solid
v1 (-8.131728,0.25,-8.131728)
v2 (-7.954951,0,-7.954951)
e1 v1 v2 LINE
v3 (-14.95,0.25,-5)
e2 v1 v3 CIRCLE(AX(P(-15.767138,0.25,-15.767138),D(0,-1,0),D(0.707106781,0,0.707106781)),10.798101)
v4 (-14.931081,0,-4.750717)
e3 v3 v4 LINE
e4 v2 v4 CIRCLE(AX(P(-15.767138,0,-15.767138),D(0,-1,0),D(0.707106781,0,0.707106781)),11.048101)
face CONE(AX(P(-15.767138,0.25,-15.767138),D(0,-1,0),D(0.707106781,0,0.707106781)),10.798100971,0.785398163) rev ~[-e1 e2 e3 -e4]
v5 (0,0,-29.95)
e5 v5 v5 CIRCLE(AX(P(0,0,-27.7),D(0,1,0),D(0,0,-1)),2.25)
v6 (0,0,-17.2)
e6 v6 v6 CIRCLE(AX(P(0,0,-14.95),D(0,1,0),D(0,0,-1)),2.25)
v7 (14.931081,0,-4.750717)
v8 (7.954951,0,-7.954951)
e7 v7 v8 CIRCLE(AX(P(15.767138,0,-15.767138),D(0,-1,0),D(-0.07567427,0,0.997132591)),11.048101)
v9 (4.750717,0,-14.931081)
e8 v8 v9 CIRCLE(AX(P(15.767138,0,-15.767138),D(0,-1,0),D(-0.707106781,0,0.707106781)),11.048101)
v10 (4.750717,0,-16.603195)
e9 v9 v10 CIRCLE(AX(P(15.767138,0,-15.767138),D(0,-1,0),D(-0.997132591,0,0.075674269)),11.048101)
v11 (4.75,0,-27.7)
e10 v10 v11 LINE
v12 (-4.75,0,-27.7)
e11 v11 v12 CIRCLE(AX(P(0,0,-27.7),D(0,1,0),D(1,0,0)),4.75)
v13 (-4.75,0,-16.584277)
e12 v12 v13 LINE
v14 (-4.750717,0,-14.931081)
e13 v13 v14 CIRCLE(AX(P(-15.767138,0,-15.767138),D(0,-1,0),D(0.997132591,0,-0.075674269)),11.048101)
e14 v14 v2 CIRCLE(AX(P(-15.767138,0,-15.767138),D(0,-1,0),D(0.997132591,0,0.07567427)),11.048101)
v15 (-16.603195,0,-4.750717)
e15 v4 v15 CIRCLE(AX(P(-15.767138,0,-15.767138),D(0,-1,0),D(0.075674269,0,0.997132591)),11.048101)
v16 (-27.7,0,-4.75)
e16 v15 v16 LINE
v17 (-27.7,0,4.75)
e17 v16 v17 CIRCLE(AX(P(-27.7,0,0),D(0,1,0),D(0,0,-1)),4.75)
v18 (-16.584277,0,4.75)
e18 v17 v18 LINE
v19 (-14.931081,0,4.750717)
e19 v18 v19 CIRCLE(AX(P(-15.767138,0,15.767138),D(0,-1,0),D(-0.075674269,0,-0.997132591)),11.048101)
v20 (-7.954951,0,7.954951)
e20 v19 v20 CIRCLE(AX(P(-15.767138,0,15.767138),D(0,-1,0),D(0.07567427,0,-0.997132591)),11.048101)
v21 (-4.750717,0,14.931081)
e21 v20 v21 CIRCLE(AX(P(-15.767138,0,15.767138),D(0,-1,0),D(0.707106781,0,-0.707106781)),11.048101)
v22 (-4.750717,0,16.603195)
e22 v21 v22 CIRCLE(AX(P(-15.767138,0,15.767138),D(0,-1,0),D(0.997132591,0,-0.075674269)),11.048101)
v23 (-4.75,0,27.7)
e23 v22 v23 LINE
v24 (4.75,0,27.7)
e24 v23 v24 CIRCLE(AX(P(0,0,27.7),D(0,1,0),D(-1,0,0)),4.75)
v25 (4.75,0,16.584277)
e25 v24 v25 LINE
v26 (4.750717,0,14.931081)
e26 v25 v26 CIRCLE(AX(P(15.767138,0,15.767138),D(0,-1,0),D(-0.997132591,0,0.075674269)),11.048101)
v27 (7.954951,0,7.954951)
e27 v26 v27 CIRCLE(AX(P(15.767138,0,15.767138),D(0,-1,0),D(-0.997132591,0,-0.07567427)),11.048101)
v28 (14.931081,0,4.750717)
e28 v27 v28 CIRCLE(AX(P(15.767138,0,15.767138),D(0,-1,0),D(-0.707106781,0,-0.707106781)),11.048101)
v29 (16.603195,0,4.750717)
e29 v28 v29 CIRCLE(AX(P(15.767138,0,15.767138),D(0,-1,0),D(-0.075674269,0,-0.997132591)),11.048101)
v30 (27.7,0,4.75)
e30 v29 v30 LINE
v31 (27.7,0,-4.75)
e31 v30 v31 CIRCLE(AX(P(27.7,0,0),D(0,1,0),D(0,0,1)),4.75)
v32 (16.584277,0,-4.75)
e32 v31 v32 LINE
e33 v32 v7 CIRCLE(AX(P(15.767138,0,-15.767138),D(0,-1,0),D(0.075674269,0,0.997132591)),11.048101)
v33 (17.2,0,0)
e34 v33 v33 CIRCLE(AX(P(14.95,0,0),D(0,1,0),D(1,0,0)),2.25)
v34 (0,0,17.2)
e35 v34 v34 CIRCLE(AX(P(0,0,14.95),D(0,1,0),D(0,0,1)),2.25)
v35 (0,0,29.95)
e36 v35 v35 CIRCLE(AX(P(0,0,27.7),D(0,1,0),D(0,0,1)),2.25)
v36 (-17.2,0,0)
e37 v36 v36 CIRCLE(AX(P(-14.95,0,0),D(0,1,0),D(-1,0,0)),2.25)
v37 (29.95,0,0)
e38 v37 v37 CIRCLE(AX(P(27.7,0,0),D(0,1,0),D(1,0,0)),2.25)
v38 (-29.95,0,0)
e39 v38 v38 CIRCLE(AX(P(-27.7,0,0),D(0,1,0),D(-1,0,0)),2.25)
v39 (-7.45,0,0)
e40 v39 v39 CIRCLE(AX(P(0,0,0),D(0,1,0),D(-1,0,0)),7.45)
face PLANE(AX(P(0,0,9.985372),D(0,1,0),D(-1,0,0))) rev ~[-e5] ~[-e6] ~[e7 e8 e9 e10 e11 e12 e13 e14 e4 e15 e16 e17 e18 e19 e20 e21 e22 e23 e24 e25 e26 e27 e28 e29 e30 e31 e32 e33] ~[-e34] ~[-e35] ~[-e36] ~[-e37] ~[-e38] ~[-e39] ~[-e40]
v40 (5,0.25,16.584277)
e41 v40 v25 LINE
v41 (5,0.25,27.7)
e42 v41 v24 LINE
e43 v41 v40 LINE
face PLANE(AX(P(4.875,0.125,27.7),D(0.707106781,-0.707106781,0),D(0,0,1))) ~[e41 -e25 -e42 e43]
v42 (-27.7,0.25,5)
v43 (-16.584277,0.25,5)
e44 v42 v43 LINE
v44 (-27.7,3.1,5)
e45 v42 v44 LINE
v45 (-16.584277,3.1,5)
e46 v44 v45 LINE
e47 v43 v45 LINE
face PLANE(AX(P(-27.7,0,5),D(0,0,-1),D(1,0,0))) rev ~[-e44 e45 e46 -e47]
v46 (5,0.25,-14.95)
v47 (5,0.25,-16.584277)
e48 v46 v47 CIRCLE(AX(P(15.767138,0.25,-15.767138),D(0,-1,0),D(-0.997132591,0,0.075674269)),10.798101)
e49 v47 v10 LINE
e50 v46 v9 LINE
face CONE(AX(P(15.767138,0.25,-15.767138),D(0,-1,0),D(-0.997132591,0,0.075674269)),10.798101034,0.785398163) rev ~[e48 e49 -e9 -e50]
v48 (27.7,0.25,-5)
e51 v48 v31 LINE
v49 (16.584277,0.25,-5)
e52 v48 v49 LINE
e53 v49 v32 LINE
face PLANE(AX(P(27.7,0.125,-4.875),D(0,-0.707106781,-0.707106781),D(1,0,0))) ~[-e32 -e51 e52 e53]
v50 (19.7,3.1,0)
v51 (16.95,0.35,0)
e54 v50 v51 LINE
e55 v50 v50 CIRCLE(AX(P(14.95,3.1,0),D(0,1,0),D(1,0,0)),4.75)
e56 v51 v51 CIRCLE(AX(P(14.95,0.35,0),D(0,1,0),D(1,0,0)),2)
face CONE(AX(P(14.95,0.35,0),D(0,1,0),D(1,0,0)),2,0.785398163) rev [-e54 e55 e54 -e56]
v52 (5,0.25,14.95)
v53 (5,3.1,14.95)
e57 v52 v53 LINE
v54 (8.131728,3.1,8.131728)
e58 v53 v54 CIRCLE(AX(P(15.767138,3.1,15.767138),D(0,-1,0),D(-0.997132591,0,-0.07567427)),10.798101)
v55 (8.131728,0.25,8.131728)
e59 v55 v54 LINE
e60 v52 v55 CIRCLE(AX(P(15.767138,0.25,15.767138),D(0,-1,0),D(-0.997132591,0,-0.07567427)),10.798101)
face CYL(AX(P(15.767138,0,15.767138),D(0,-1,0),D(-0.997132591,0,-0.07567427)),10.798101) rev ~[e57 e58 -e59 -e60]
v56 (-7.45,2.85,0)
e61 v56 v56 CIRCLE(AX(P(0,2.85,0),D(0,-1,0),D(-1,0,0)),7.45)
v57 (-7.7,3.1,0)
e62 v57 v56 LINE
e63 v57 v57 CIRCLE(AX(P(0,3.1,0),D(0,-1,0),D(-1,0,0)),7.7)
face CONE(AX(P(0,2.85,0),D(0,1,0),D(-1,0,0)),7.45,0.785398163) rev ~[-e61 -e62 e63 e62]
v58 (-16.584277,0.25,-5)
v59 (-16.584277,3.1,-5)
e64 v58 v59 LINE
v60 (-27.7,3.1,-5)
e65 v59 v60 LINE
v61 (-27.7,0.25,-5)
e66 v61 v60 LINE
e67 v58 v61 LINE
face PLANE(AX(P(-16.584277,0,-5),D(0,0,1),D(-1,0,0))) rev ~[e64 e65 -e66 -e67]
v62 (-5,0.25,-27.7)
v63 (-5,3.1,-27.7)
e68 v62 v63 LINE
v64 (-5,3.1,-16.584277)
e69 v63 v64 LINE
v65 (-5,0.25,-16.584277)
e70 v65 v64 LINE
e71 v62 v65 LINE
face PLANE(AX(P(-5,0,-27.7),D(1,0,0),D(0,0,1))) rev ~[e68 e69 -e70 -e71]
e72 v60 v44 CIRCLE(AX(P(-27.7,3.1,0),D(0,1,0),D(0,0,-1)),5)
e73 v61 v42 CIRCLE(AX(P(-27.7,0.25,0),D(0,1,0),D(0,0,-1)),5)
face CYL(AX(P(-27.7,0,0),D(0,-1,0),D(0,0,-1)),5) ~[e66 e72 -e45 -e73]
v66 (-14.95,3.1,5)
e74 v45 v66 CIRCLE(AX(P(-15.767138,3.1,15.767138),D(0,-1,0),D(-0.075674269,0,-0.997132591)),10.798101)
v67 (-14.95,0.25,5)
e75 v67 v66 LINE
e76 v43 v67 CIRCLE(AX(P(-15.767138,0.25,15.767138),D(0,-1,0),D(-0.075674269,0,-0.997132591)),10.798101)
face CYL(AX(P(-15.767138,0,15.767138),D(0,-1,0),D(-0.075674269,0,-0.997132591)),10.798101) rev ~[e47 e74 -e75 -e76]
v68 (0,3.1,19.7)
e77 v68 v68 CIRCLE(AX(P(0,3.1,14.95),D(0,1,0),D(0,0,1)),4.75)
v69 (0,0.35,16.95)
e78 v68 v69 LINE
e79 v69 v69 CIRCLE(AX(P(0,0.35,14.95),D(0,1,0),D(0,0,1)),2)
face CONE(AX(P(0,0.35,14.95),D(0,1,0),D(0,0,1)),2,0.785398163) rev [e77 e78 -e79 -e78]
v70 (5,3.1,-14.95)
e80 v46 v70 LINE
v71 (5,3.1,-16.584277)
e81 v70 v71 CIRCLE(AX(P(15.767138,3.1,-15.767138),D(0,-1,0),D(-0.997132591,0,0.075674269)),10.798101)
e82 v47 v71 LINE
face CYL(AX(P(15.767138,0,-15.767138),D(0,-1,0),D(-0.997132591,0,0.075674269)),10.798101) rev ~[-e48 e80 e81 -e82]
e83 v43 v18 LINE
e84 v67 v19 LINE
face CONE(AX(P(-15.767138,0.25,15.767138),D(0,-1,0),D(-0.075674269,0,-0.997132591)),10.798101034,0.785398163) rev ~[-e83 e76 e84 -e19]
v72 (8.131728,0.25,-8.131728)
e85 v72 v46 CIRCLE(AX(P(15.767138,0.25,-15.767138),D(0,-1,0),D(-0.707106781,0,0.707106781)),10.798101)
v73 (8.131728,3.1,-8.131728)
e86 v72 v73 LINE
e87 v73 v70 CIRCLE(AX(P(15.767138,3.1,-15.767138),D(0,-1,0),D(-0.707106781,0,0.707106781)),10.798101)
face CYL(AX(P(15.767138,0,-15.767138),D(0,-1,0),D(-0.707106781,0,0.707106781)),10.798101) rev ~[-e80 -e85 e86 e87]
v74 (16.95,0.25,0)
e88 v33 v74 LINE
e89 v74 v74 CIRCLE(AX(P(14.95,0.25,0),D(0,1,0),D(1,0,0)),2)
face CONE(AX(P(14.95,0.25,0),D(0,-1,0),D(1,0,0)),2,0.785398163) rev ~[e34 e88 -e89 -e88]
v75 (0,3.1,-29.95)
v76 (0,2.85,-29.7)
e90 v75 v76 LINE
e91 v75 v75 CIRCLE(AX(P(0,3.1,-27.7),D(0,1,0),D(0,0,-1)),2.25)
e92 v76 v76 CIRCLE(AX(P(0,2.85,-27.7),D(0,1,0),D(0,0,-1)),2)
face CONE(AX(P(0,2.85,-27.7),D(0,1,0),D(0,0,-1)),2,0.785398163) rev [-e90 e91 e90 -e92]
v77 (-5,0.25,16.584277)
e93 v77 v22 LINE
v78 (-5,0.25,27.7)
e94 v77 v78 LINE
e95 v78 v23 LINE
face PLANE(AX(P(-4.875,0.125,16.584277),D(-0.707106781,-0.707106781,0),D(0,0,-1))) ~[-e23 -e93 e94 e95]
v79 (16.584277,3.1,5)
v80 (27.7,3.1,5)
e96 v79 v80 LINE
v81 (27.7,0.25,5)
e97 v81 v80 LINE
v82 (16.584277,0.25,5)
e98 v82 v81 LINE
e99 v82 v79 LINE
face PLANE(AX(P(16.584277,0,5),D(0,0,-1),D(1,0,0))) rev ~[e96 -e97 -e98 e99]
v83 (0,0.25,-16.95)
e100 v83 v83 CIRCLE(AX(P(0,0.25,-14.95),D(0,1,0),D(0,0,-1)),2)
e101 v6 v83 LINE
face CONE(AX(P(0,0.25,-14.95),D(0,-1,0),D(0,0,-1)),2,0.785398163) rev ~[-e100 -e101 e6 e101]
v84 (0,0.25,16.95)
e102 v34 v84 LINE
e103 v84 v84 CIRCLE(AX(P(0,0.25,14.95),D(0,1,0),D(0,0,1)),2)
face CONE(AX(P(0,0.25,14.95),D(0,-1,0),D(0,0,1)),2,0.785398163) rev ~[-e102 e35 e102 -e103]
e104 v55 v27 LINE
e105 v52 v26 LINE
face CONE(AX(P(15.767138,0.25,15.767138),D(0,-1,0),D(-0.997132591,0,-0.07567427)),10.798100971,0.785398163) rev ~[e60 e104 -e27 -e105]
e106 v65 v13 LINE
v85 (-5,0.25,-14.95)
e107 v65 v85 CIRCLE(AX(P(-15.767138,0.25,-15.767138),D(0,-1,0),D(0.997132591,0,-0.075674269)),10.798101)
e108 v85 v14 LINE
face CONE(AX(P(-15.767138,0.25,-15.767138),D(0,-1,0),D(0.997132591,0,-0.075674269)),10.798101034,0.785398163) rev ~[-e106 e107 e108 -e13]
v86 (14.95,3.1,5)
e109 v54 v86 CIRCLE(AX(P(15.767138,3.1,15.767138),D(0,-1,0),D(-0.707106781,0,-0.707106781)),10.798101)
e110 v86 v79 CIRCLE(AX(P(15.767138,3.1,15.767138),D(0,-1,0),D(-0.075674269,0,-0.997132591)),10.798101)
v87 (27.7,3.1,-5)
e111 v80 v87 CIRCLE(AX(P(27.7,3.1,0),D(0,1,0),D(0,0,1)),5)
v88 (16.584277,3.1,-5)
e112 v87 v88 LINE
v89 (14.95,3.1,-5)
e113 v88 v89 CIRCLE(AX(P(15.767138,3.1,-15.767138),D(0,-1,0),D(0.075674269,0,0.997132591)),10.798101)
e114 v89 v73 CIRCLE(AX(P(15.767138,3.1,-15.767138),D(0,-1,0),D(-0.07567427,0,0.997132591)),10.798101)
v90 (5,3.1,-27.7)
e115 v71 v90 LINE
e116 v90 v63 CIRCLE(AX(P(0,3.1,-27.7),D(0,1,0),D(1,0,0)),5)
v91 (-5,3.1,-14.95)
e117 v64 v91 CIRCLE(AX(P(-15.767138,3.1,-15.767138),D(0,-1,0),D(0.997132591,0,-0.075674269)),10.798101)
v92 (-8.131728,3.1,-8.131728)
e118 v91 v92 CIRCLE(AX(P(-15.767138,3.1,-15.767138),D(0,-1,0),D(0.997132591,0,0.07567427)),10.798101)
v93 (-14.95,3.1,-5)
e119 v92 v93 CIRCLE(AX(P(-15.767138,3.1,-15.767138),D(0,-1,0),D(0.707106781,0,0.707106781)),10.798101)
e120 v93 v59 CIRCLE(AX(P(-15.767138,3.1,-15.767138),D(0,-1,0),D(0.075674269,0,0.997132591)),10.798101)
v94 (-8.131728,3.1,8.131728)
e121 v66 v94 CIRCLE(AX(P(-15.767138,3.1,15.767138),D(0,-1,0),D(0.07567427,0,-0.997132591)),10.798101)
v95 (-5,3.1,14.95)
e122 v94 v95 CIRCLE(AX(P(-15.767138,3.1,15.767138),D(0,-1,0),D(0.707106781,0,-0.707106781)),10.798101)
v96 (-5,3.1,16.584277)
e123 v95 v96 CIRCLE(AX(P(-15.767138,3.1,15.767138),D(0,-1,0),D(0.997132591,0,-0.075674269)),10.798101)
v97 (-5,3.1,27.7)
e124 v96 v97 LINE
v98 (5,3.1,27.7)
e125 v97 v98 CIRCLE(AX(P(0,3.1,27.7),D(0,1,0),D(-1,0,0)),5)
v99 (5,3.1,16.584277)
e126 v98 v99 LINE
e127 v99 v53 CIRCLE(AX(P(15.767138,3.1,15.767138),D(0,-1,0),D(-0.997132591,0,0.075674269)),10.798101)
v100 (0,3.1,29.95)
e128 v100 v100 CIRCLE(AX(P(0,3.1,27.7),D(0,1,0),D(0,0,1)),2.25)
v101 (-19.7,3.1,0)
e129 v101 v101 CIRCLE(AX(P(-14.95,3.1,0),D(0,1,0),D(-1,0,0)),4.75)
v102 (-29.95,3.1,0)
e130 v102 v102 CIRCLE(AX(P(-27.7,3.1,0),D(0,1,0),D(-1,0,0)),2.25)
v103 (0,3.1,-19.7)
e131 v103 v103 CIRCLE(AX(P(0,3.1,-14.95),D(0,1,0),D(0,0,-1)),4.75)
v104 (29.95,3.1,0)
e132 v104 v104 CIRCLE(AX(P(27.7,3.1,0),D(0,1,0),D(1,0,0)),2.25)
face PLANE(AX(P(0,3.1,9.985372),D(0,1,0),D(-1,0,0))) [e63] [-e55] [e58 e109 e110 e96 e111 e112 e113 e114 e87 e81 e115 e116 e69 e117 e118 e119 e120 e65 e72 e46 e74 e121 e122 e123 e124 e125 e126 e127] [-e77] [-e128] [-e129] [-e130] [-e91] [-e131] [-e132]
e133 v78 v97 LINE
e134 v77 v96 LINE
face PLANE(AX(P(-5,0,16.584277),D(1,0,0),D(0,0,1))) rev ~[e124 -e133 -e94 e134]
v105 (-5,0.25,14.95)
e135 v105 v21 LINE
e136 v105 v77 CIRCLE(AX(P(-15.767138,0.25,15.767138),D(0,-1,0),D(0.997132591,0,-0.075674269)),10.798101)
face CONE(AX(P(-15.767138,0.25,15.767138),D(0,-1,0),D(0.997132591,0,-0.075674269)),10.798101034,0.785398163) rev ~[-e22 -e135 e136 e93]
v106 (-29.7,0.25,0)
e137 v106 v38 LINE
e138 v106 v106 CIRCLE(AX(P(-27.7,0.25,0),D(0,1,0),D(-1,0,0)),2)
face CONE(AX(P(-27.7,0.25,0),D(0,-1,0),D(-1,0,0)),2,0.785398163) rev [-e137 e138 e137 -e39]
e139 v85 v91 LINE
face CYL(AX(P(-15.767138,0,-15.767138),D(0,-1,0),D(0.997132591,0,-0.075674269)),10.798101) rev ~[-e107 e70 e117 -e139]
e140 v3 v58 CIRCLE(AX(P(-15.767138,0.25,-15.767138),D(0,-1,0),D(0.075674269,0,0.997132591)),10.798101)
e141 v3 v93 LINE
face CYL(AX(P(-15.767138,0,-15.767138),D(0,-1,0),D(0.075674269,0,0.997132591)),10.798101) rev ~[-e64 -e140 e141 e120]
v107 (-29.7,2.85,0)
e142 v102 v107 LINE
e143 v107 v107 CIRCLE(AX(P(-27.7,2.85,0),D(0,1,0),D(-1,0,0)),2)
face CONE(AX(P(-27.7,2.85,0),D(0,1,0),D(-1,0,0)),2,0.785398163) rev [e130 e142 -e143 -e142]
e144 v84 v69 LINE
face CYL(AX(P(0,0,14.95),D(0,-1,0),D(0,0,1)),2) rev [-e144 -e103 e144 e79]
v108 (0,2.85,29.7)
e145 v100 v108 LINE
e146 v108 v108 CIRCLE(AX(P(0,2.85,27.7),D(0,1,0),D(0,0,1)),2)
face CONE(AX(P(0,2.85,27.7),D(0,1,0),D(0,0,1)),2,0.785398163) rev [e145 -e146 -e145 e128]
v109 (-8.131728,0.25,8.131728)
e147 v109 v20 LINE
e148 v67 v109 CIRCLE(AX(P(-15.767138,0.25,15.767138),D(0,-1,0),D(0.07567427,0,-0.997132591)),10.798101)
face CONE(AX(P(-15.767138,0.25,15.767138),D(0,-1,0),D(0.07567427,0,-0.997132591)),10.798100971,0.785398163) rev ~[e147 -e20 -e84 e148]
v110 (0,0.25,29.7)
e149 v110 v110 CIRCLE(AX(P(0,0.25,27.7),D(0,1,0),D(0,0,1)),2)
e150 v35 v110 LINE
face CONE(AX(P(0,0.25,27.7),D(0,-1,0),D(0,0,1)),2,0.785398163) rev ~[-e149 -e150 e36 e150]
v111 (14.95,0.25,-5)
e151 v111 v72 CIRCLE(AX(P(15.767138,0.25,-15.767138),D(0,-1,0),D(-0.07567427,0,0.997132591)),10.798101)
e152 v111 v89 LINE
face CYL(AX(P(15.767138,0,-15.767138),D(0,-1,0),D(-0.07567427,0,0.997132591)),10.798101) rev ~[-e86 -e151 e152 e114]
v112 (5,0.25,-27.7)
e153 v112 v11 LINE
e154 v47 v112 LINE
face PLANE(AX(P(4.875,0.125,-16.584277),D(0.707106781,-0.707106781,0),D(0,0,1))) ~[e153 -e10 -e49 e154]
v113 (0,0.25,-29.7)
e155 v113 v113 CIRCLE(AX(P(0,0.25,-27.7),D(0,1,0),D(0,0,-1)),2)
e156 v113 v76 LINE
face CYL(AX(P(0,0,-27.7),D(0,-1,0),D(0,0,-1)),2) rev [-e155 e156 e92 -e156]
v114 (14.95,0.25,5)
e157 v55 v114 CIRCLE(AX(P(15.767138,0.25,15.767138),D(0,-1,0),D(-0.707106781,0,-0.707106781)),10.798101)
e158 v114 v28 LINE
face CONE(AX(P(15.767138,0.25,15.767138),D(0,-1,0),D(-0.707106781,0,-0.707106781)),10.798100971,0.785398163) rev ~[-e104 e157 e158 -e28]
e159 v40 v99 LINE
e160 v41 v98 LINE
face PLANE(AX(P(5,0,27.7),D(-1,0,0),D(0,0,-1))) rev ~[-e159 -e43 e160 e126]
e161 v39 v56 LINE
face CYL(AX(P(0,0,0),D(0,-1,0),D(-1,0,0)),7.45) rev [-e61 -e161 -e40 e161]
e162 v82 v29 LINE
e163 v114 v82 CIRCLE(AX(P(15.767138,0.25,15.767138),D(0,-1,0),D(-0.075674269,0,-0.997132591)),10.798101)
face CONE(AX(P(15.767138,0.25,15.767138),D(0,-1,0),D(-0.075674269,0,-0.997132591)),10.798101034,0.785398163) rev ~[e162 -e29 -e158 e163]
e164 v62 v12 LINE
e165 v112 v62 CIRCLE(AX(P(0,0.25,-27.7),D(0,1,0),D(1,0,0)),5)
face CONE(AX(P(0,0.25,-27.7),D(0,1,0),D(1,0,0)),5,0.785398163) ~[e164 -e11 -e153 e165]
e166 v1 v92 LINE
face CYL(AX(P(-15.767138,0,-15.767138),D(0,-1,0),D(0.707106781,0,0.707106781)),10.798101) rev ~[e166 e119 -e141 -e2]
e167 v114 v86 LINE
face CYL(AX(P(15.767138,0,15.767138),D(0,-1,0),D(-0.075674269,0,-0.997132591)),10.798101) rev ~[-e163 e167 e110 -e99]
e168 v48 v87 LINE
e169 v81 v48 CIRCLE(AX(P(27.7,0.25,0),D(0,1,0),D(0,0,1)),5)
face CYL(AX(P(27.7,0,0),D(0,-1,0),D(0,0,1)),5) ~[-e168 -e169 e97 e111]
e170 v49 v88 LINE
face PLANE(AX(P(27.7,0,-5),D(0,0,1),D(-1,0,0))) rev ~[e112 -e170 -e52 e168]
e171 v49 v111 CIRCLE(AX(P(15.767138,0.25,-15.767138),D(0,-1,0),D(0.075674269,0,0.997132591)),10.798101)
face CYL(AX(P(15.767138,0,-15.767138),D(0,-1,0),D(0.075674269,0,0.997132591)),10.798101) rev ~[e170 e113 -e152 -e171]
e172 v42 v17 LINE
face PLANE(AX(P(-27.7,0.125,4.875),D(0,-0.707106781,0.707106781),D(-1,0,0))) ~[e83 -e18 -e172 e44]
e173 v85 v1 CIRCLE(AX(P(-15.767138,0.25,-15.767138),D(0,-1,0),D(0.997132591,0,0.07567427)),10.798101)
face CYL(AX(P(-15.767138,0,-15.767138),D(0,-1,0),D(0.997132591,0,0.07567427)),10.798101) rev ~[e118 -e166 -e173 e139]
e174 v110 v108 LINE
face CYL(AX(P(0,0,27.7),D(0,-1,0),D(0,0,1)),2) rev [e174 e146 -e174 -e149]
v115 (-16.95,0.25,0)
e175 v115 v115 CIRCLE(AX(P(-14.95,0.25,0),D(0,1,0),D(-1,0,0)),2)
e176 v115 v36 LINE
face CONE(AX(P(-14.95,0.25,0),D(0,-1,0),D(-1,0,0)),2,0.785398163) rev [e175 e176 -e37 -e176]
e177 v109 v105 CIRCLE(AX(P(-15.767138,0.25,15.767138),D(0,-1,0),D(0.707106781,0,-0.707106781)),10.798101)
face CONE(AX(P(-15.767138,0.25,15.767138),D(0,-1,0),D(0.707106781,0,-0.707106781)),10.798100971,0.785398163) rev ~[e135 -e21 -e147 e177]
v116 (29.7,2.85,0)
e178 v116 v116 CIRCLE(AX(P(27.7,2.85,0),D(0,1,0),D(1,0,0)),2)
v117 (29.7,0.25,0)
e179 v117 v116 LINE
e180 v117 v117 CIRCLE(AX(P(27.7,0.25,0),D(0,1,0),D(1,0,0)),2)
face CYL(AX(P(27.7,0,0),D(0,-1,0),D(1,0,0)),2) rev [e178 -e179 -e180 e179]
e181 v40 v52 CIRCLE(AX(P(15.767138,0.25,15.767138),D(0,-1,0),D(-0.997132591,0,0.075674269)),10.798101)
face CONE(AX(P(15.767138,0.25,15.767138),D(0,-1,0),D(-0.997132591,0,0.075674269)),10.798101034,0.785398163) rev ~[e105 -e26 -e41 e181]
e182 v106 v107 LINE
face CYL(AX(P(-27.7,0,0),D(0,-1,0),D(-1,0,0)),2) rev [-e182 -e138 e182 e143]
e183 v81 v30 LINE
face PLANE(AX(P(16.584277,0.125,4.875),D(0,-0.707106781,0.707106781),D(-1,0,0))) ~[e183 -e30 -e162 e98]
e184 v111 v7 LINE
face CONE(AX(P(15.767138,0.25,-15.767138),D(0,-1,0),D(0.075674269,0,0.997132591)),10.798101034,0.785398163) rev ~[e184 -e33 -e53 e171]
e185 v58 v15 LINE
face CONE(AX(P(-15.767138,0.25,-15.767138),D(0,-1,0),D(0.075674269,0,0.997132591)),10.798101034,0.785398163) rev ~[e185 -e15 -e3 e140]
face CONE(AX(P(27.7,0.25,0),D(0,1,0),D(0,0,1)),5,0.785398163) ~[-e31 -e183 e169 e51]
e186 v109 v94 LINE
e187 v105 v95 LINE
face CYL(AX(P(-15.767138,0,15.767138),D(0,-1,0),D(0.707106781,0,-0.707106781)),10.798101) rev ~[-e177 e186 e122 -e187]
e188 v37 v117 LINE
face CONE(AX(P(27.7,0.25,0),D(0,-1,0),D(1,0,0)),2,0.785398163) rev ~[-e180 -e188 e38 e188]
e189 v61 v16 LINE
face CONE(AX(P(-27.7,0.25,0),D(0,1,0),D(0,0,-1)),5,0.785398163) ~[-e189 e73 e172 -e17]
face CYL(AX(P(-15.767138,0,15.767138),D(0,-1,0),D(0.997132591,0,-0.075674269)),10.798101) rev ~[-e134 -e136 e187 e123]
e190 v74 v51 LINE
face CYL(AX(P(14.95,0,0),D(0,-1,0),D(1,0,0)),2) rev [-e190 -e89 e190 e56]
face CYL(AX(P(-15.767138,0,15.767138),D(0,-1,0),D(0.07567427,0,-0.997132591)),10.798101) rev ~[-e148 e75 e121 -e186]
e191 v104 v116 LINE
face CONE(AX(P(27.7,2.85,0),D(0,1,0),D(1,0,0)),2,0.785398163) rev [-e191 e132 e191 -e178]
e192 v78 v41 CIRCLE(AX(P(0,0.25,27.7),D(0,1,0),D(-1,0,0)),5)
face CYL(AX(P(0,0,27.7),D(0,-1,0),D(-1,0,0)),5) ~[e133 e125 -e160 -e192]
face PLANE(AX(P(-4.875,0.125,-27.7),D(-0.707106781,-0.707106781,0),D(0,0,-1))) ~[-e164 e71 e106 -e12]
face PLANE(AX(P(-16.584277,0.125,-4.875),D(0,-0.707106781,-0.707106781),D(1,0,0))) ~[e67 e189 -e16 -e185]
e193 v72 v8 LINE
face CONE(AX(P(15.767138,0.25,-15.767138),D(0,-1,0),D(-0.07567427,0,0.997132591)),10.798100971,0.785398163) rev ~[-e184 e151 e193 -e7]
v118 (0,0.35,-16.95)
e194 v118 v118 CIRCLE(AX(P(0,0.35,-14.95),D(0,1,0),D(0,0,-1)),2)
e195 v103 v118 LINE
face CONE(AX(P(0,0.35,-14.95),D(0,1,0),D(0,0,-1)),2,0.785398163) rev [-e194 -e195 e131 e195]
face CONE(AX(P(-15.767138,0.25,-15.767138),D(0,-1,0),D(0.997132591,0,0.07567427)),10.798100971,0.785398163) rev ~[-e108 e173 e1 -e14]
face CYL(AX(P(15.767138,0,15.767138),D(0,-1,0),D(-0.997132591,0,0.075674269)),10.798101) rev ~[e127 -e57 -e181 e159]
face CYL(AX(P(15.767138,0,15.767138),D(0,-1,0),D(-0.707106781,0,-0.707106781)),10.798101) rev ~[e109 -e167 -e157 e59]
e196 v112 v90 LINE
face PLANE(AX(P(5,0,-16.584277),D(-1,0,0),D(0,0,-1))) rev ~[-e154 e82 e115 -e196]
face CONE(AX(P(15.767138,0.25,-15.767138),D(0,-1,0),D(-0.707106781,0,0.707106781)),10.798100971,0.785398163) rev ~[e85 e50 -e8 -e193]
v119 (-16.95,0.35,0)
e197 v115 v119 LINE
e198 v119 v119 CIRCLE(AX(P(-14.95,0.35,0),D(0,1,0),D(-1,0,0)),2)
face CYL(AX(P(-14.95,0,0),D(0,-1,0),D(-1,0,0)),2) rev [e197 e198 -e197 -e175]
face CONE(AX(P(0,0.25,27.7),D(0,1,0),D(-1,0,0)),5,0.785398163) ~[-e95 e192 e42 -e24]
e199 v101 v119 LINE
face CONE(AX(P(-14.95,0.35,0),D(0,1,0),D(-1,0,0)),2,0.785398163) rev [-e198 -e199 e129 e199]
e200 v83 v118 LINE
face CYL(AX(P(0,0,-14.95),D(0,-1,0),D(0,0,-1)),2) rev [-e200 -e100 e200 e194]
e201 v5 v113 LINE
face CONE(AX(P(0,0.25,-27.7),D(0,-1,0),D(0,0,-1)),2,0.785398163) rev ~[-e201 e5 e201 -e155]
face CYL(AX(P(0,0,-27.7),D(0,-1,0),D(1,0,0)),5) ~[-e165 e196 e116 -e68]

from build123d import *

# Parameters (mm, degrees)
SKETCH1_R           = 7.45
SKETCH1_R_2         = 2
BOSS_EXTRUDE1_DEPTH = 3.1
CIRPATTERN1_COUNT   = 4
CHAMFER3_SIZE       = 0.25
CHAMFER4_SIZE       = 2.75
CHAMFER5_SIZE       = 0.25


with BuildPart() as part:
    # Sketch1 → Boss-Extrude1 (new body)
    with BuildSketch(Plane(origin=(0, 0, 0), x_dir=(1, 0, 0), z_dir=(0, 1, 0))):
        with BuildLine():
            Line((5, 16.58427681), (5, 27.7))
            ThreePointArc((5, 27.7), (0, 32.7), (-5, 27.7))
            Line((-5, 27.7), (-5, 16.58427681))
            ThreePointArc((-5, 16.58427681), (-4.969037433, 15.767138405), (-5, 14.95))
            ThreePointArc((-5, 14.95), (-5.95461278, 11.260107735), (-8.131727984, 8.131727984))
            ThreePointArc((-8.131727984, 8.131727984), (0, -11.5), (8.131727984, 8.131727984))
            ThreePointArc((8.131727984, 8.131727984), (5.95461278, 11.260107735), (5, 14.95))
            ThreePointArc((5, 14.95), (4.969037433, 15.767138405), (5, 16.58427681))
        make_face()
        with Locations(Location((0, 0, 0), (0, 0, 90))):
            Circle(SKETCH1_R, mode=Mode.SUBTRACT)
        with Locations(Location((0, 14.95, 0), (0, 0, 90))):
            Circle(SKETCH1_R_2, mode=Mode.SUBTRACT)
        with Locations(Location((0, 27.7, 0), (0, 0, 90))):
            Circle(SKETCH1_R_2, mode=Mode.SUBTRACT)
    extrude(amount=BOSS_EXTRUDE1_DEPTH)


with BuildPart() as cirpattern1_1:
    # CirPattern1: pattern copy
    add(part.part.rotate(Axis((0, 0, 0), (0, 1, 0)), 1 * 360 / CIRPATTERN1_COUNT))


with BuildPart() as cirpattern1_2:
    # CirPattern1: pattern copy
    add(part.part.rotate(Axis((0, 0, 0), (0, 1, 0)), 2 * 360 / CIRPATTERN1_COUNT))


with BuildPart() as cirpattern1_3:
    # CirPattern1: pattern copy
    add(part.part.rotate(Axis((0, 0, 0), (0, 1, 0)), 3 * 360 / CIRPATTERN1_COUNT))


with BuildPart() as cirpattern1_1_1:
    add(cirpattern1_1.part)

    # Combine1: union part, CirPattern1_3, CirPattern1_2
    add(part.part)
    add(cirpattern1_3.part)
    add(cirpattern1_2.part)

    # Chamfer3
    chamfer3_edges = [cirpattern1_1_1.edges().sort_by_distance(p)[0] for p in [
        (-25.7, 3.1, 0),
        (0, 3.1, -25.7),
        (25.7, 3.1, 0),
        (0, 3.1, 25.7),
        (7.45, 3.1, 0),
    ]]
    chamfer(chamfer3_edges, length=CHAMFER3_SIZE)

    # Chamfer4
    chamfer4_edges = [cirpattern1_1_1.edges().sort_by_distance(p)[0] for p in [
        (-12.95, 3.1, 0),
        (0, 3.1, -12.95),
        (12.95, 3.1, 0),
        (0, 3.1, 12.95),
    ]]
    chamfer(chamfer4_edges, length=CHAMFER4_SIZE)

    # Chamfer5
    chamfer5_edges = [cirpattern1_1_1.edges().sort_by_distance(p)[0] for p in [
        (-32.7, 0, 0),
        (-22.142138405, 0, -5),
        (-8.131727984, 0, -8.131727984),
        (-8.131727984, 0, 8.131727984),
        (-22.142138405, 0, 5),
        (-25.7, 0, 0),
        (-12.95, 0, 0),
        (0, 0, -25.7),
        (0, 0, -12.95),
        (8.131727984, 0, -8.131727984),
        (5, 0, -22.142138405),
        (25.7, 0, 0),
        (12.95, 0, 0),
        (8.131727984, 0, 8.131727984),
        (22.142138405, 0, 5),
        (0, 0, 25.7),
        (0, 0, 12.95),
        (-5, 0, 22.142138405),
        (-5, 0, -22.142138405),
        (0, 0, -32.7),
        (22.142138405, 0, -5),
        (32.7, 0, 0),
        (5, 0, 22.142138405),
        (0, 0, 32.7),
    ]]
    chamfer(chamfer5_edges, length=CHAMFER5_SIZE)


solid = cirpattern1_1_1.part
